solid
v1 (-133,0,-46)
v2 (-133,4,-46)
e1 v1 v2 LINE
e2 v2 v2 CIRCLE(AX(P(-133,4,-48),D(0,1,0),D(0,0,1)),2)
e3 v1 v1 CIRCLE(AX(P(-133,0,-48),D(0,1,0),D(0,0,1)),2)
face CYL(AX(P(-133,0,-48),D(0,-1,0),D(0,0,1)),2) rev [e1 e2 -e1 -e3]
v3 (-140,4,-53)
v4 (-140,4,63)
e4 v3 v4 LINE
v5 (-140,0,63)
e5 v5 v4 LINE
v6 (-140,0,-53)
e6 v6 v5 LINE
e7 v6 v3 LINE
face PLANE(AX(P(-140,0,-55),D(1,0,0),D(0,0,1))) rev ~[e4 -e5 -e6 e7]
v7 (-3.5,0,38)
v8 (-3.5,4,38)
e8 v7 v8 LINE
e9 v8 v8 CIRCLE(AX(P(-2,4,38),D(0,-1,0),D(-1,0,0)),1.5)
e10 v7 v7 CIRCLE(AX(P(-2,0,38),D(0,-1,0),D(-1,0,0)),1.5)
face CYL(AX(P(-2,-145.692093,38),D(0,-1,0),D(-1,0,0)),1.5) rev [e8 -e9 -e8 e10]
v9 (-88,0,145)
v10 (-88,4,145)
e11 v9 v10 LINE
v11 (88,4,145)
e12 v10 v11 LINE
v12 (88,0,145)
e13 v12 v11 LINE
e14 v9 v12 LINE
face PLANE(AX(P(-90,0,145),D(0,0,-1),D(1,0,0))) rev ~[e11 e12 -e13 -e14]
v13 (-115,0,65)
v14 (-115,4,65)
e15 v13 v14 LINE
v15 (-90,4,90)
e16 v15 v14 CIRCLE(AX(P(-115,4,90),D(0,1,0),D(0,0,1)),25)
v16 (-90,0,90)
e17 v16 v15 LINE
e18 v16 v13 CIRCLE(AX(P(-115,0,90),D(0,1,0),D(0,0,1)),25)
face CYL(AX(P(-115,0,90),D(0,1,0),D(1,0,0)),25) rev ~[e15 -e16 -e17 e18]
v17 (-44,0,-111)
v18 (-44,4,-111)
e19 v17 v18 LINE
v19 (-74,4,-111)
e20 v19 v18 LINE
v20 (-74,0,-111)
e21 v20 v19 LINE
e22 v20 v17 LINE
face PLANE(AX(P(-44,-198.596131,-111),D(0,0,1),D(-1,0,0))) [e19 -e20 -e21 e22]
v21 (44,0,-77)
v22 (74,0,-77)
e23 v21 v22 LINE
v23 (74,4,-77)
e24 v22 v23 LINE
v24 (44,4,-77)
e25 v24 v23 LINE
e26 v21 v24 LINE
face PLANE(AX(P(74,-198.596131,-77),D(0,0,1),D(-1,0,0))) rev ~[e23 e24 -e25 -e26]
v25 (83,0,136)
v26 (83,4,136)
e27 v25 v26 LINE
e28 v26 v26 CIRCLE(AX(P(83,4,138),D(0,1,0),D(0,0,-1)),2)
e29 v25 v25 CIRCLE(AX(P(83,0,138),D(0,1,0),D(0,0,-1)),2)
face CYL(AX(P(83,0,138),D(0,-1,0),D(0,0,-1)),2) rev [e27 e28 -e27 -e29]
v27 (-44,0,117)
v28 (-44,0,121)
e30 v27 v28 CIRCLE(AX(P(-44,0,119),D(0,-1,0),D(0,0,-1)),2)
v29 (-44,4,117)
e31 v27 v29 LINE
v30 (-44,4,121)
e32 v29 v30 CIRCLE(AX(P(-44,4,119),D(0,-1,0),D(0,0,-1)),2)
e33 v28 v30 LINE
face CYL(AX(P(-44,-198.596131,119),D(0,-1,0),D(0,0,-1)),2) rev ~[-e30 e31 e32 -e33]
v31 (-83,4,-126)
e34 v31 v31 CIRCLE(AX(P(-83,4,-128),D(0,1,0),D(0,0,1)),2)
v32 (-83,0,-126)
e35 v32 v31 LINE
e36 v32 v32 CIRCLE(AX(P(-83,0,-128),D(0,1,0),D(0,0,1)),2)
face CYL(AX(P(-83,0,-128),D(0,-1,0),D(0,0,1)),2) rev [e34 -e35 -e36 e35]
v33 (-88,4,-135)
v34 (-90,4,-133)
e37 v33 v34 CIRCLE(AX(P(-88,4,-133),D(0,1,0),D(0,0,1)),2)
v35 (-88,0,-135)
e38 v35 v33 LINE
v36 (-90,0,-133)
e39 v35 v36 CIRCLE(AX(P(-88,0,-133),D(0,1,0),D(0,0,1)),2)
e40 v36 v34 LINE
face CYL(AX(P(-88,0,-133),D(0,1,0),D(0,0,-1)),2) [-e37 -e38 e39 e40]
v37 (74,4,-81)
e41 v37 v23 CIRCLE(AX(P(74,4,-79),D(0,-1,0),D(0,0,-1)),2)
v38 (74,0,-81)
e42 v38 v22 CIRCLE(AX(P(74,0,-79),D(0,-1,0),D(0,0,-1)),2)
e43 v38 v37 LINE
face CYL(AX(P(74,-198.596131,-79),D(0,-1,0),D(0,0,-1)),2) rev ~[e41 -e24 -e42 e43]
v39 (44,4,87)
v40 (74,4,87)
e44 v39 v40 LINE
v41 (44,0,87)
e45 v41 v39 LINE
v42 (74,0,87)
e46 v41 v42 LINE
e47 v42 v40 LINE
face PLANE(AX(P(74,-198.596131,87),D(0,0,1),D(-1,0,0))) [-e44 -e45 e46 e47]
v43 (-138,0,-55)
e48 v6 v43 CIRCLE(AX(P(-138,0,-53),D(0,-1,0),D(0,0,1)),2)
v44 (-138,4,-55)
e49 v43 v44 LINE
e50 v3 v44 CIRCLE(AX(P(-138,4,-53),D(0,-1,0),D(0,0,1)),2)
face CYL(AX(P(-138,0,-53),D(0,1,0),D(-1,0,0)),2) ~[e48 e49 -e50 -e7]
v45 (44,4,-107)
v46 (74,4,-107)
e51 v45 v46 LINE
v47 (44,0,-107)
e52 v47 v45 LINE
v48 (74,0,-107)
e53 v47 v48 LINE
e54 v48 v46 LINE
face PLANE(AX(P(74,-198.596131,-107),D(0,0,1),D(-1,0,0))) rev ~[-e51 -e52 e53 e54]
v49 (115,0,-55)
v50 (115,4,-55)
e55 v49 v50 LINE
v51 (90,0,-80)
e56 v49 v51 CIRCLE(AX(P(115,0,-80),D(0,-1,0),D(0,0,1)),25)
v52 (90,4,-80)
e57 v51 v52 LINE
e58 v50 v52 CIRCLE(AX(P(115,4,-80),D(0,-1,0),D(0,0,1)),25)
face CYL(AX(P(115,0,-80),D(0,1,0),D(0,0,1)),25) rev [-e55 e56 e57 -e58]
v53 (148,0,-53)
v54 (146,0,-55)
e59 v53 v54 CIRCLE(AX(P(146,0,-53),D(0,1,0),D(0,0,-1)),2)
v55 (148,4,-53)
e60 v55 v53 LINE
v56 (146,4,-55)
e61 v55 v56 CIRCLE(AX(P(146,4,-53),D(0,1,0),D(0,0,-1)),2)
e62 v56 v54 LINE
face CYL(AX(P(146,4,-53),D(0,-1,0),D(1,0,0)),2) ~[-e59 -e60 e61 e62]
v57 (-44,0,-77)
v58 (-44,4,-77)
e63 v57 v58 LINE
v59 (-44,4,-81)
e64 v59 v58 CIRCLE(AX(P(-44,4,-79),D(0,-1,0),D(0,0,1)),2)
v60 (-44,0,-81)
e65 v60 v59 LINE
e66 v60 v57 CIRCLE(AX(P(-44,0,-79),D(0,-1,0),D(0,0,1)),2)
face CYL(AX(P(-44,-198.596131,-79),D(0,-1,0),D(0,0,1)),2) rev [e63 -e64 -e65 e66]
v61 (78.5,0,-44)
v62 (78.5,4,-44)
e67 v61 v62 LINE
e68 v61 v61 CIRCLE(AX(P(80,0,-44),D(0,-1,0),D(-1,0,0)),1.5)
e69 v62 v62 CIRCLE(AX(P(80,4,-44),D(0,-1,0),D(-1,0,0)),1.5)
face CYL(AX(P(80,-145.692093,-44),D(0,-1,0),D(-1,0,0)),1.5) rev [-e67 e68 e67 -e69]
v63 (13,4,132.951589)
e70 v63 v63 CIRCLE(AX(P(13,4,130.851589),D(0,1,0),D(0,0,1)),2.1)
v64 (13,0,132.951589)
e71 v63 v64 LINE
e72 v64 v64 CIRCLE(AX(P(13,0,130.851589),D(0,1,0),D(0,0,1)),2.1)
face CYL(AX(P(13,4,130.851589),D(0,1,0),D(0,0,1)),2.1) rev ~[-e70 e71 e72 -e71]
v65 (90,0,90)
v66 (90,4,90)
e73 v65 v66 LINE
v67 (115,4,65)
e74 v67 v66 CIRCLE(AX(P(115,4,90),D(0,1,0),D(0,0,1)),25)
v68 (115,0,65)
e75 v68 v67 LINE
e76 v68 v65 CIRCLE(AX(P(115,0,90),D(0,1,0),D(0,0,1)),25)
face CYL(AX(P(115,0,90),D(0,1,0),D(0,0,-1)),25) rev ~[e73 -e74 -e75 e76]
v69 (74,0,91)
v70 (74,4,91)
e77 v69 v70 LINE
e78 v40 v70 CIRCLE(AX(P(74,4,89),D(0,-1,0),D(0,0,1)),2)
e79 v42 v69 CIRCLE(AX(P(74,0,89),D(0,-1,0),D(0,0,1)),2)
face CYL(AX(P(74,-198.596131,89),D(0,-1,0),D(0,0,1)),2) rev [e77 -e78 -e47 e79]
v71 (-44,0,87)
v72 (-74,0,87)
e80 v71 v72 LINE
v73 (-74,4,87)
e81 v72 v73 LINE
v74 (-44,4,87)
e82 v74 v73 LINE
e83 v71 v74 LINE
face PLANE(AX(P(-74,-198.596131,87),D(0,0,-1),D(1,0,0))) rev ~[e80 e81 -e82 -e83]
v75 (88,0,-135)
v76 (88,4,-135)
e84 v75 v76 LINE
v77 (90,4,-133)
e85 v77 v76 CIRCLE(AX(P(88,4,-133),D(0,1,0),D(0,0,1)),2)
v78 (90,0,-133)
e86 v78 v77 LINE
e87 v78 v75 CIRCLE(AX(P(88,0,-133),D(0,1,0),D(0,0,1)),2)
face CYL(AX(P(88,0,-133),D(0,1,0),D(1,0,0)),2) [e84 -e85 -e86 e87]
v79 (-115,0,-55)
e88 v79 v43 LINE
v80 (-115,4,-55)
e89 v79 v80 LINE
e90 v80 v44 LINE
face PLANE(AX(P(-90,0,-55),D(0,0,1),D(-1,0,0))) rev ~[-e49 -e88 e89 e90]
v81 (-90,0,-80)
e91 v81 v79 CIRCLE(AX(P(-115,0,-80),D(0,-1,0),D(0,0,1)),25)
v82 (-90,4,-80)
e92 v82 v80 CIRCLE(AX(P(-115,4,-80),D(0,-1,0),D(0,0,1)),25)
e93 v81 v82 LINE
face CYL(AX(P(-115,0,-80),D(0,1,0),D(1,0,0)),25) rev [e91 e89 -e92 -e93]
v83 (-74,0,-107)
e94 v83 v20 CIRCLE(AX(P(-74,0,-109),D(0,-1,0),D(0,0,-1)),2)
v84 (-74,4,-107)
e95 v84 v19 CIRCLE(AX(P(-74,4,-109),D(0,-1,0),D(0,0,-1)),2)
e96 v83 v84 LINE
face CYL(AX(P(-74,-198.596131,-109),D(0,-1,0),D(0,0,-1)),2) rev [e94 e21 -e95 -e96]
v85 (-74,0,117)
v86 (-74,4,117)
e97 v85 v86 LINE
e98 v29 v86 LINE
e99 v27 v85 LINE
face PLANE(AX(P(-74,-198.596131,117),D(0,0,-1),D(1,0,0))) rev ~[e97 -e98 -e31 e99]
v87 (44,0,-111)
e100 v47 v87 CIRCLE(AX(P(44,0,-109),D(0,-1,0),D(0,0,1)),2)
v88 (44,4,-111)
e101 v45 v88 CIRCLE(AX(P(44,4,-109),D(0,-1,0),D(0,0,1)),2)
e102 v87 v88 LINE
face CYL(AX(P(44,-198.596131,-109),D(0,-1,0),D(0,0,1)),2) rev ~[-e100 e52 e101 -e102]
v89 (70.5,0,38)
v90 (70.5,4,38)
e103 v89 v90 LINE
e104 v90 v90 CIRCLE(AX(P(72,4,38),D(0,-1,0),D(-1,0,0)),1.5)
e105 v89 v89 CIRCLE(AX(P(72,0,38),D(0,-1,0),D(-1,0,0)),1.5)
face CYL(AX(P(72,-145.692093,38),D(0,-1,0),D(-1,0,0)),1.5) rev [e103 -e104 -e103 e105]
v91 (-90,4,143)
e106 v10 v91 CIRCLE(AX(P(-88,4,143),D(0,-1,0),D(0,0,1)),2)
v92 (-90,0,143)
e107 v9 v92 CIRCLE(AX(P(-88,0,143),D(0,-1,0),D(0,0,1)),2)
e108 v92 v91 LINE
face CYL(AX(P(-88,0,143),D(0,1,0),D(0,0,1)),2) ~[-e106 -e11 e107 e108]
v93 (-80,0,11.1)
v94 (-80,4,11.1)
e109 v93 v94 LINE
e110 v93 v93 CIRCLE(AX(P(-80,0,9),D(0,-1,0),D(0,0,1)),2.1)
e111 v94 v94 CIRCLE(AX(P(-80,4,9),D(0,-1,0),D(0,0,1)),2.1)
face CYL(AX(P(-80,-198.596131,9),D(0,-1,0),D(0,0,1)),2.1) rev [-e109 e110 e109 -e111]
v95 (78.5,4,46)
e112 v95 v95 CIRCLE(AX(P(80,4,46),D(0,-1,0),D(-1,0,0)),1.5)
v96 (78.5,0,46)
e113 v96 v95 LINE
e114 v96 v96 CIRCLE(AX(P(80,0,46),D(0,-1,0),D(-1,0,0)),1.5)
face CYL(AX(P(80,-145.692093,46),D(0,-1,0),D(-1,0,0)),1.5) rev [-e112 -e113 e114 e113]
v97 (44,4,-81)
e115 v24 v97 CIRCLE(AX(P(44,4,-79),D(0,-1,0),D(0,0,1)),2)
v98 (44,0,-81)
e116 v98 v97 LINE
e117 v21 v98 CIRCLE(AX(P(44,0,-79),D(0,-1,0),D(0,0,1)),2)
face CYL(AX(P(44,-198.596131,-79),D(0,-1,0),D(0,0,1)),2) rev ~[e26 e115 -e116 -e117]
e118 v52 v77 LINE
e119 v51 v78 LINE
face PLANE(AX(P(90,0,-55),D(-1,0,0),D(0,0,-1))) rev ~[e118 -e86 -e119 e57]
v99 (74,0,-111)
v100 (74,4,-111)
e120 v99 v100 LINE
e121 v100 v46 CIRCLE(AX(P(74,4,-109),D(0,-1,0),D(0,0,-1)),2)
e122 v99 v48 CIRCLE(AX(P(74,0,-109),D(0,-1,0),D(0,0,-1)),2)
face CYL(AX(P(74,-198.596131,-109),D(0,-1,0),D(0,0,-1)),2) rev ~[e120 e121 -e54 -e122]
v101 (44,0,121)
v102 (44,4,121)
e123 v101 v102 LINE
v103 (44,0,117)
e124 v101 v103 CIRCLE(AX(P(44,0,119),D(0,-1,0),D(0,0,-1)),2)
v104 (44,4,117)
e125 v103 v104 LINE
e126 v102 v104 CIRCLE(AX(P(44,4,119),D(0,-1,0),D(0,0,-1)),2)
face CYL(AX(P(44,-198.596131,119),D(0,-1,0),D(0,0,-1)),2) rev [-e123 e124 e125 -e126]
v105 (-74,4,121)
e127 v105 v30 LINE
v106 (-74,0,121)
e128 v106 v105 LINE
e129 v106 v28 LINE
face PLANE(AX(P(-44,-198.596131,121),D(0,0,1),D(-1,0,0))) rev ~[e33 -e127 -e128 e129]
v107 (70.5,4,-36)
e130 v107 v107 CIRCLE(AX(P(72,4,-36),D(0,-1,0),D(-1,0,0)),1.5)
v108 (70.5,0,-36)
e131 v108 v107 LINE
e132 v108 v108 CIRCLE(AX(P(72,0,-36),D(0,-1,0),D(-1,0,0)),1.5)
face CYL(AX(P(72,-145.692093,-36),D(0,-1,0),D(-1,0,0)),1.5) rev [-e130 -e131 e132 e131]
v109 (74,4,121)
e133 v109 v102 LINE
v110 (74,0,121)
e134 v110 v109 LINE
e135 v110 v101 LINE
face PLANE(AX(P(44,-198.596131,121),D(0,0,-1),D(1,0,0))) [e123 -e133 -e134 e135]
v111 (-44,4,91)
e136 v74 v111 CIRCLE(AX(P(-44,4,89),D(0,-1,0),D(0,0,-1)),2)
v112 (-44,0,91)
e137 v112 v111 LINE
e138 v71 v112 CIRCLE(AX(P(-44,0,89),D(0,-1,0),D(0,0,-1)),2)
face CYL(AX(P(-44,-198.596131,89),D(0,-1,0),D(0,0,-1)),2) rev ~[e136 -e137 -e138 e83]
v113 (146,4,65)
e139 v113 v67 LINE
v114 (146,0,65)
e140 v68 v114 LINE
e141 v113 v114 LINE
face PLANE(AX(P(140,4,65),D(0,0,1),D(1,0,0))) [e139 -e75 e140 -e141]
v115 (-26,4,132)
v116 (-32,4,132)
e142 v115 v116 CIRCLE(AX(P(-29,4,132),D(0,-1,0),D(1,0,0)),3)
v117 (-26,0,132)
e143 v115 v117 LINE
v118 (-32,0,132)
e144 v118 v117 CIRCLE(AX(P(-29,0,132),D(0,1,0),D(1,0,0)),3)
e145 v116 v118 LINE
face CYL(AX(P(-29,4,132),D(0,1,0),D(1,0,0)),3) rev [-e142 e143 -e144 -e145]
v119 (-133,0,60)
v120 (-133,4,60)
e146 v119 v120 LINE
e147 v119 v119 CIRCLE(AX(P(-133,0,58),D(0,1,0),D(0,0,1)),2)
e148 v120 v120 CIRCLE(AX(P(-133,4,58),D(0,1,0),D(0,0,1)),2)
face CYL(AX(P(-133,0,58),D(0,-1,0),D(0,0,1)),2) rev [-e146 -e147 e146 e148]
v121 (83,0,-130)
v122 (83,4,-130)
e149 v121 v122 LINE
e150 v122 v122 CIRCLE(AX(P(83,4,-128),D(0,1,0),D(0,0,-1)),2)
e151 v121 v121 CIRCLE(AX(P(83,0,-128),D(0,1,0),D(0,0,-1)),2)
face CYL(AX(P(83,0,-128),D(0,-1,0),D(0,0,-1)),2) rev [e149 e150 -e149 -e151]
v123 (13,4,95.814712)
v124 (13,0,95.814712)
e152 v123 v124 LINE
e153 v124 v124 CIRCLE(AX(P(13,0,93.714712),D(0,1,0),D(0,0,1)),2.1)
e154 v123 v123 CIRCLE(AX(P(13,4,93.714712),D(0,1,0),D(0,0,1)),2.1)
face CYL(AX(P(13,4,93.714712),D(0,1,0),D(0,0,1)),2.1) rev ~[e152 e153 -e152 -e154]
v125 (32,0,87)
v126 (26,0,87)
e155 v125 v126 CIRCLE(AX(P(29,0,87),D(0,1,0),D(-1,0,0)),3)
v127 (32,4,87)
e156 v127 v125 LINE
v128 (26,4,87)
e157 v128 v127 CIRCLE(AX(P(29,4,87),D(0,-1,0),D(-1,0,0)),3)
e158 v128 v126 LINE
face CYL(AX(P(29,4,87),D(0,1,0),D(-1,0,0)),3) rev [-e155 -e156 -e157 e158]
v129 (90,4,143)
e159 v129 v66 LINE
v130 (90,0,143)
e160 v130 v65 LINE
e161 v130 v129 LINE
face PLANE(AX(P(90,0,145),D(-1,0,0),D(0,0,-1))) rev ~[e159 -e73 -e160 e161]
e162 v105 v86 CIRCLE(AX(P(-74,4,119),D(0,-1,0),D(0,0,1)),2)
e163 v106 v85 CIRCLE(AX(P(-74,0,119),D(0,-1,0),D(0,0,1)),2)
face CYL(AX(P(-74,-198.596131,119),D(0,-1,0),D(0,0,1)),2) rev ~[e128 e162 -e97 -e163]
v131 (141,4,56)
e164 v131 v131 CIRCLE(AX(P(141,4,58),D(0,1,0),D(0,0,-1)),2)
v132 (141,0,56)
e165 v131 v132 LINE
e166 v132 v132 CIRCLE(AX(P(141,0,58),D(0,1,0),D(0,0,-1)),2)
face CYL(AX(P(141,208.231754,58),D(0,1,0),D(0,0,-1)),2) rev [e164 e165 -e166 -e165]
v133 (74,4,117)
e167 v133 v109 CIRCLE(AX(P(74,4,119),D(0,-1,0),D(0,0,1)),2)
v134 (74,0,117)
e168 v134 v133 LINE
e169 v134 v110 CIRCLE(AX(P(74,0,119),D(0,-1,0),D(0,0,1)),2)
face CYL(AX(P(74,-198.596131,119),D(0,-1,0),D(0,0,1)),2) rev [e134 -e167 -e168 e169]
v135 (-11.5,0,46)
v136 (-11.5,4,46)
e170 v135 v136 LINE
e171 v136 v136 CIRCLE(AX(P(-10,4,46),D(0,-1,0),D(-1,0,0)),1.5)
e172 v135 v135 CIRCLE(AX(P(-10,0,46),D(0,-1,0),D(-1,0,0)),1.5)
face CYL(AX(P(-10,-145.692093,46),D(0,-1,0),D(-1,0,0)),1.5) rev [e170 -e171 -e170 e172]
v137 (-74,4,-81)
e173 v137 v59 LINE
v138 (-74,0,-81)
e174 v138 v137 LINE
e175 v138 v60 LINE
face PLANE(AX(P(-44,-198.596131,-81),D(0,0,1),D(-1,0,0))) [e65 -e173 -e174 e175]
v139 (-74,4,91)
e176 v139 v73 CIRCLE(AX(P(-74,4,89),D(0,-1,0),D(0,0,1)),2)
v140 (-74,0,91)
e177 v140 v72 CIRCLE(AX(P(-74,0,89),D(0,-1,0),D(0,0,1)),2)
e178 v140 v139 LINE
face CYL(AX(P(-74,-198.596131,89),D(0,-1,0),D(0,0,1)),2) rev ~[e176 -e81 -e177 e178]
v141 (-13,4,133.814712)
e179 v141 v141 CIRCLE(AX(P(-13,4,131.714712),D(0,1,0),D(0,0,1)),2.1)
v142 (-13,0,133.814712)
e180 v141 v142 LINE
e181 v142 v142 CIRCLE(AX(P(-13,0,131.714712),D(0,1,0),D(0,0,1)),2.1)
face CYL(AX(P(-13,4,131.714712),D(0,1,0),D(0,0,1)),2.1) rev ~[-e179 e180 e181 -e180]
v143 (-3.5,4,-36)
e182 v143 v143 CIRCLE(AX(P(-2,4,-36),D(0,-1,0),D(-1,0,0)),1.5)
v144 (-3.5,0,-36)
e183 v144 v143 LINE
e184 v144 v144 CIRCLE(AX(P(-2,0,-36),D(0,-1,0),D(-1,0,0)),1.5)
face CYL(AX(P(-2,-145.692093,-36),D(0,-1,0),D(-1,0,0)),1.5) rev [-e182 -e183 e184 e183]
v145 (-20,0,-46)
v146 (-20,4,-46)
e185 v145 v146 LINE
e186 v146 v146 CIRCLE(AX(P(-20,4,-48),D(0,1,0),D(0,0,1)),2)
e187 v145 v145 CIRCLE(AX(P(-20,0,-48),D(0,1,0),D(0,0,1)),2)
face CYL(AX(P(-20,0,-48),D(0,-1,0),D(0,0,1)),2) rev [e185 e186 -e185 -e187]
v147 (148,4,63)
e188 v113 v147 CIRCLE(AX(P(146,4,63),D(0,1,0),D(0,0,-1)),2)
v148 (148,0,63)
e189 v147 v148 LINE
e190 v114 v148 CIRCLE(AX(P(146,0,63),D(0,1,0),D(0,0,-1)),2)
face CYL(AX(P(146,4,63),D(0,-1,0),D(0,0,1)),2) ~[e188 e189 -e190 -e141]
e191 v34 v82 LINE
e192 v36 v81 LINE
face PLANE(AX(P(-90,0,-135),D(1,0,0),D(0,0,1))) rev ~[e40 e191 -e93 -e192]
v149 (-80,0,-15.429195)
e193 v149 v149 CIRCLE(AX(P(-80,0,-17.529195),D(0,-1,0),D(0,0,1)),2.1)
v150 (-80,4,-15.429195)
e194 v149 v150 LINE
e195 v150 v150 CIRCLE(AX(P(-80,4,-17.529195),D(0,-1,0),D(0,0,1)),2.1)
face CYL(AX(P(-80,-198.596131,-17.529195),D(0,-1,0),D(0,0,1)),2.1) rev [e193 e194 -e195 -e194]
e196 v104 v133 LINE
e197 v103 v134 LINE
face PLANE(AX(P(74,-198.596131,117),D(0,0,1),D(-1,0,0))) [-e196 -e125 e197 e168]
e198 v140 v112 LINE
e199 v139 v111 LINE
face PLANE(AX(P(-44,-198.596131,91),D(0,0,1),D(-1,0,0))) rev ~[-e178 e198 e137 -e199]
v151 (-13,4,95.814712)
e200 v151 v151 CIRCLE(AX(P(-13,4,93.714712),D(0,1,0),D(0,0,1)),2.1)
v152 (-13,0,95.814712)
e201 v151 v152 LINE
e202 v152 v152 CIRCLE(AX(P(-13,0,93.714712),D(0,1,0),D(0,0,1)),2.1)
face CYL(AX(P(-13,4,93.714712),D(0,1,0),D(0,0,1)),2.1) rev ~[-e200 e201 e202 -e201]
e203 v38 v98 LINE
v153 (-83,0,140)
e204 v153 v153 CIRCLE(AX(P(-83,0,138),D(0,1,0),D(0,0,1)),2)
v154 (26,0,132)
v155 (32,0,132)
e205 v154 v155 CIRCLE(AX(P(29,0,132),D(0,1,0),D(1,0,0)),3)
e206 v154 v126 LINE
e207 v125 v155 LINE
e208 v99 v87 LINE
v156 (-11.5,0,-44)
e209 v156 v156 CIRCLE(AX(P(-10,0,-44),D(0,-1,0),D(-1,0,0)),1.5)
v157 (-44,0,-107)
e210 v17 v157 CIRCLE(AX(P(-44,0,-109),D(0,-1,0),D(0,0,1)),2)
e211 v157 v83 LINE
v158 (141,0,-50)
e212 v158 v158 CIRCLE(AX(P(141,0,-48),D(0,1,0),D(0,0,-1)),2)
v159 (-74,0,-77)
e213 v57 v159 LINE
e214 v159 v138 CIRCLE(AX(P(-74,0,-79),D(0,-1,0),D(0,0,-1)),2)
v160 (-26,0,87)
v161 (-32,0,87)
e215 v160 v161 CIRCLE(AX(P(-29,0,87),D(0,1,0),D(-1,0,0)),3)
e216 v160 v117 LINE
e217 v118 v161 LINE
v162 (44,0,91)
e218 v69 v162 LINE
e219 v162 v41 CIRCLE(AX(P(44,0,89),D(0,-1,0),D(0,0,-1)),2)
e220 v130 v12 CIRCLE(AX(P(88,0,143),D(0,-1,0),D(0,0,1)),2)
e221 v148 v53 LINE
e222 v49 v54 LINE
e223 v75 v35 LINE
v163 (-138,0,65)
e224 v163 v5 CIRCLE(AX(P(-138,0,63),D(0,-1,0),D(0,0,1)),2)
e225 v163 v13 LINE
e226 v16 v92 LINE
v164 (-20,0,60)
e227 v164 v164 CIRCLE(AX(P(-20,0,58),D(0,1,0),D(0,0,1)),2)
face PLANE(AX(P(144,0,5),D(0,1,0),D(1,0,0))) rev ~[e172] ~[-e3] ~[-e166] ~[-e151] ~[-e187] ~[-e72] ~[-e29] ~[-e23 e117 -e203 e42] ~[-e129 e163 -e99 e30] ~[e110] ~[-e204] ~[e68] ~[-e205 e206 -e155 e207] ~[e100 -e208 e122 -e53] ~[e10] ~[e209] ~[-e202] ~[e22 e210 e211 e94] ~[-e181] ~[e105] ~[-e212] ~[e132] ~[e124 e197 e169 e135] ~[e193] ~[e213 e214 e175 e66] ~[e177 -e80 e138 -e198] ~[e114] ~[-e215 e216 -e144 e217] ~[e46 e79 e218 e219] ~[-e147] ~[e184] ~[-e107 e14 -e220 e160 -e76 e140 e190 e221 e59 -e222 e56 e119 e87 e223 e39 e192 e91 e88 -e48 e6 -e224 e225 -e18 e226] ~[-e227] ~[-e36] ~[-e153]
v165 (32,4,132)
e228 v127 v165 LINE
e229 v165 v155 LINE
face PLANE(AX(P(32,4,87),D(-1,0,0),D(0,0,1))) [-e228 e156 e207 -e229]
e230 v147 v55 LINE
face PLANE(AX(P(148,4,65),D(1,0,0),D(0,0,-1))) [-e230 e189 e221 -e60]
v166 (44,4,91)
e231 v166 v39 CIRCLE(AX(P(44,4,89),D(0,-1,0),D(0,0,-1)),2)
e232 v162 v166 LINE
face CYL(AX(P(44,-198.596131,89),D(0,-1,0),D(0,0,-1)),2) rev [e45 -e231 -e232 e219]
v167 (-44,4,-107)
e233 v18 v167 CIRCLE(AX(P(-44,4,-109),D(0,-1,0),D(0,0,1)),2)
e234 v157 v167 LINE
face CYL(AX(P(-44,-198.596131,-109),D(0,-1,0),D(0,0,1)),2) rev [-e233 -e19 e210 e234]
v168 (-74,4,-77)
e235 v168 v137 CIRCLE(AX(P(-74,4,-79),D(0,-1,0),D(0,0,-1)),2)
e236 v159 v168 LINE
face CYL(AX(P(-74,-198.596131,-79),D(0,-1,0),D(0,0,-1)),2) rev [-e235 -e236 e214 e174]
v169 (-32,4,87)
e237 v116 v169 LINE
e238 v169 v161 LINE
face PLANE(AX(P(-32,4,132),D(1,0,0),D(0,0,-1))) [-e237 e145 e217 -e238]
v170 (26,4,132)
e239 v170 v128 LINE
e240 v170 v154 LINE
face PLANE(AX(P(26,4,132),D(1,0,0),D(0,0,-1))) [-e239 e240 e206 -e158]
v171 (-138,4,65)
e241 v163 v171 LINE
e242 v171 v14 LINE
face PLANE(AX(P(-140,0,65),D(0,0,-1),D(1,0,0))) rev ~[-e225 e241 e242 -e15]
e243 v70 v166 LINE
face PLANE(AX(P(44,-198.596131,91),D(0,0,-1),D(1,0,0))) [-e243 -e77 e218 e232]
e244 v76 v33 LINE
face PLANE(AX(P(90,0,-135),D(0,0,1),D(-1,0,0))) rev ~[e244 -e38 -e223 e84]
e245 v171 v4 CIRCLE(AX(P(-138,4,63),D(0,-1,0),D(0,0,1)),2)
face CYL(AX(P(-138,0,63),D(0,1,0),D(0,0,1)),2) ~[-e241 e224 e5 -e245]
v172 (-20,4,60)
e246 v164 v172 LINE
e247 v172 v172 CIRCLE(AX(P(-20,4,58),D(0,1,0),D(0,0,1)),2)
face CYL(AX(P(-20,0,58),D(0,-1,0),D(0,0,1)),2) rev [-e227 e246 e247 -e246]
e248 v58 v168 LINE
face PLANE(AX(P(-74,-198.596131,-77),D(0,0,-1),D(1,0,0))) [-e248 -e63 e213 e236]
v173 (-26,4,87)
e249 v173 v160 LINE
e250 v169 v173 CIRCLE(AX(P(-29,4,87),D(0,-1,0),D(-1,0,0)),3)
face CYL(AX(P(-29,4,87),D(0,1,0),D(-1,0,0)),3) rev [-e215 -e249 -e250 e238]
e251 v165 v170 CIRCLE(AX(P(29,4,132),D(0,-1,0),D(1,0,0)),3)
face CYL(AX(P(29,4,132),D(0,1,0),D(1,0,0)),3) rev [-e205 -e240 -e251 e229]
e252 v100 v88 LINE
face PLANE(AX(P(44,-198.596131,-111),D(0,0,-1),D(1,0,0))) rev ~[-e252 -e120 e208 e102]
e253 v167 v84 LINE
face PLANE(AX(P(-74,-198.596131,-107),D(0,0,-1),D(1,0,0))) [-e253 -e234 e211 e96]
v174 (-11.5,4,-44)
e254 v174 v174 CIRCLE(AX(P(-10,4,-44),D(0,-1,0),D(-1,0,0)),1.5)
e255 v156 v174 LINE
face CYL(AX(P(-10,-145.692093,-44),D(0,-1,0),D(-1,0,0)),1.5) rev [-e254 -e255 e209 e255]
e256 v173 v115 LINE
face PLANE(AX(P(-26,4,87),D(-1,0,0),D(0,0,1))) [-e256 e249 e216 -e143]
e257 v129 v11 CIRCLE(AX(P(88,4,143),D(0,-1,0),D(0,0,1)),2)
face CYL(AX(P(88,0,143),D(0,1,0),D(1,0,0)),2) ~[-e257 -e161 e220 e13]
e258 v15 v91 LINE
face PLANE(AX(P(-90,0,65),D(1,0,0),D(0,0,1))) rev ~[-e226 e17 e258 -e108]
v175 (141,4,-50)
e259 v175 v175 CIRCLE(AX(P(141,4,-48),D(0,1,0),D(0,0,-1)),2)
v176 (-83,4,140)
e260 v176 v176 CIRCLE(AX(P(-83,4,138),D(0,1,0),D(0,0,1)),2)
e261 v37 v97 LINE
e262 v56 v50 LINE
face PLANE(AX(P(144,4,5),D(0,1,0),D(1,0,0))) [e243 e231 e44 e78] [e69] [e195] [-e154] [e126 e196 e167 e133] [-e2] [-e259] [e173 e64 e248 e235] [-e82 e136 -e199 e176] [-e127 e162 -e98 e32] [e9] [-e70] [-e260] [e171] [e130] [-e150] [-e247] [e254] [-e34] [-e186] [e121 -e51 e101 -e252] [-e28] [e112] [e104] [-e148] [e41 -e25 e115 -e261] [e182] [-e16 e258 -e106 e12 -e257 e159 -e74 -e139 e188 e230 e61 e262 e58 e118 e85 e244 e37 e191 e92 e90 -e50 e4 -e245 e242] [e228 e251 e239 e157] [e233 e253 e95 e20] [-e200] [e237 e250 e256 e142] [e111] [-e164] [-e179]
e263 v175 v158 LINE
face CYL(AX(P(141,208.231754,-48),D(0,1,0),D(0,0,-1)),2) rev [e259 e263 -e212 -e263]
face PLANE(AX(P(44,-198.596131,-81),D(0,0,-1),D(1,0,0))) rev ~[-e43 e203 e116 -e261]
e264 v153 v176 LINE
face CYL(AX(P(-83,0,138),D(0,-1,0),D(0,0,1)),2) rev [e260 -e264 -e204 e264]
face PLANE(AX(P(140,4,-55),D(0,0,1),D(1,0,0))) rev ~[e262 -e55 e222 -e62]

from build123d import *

# Parameters (mm, degrees)
SKETCH_1_R               = 2
EXTRUDE_1_DEPTH          = 4
CUT_EXTRUDE_1_DEPTH      = 202.596130915
CUT_EXTRUDE_1_DEPTH_BACK = 202.596130915
CUT_EXTRUDE_2_DEPTH      = 202.596130915
CUT_EXTRUDE_2_DEPTH_BACK = 202.596130915
SKETCH_3_R               = 2.1
SKETCH_4_W               = 8
SKETCH_4_H               = 120
EXTRUDE_2_DEPTH          = 4
CUT_EXTRUDE_4_DEPTH      = 208.231754324
CUT_EXTRUDE_4_DEPTH_BACK = 208.231754324
SKETCH_6_R               = 2
CUT_EXTRUDE_5_DEPTH      = 208.231754324
CUT_EXTRUDE_6_DEPTH      = 221.692093198
CUT_EXTRUDE_6_DEPTH_BACK = 221.692093198
SKETCH_9_R               = 1.5
FILLET_1_R               = 2
FILLET_2_R               = 25
SKETCH_11_R              = 2.1
CUT_EXTRUDE_7_DEPTH      = 10


with BuildPart() as part:
    # 草图1 → 凸台-拉伸1 (new body)
    with BuildSketch(Plane(origin=(0, 0, 0), x_dir=(1, 0, 0), z_dir=(0, 1, 0))):
        Polygon((-90, -145), (90, -145), (90, -65), (140, -65), (140, 55), (90, 55), (90, 135), (-90, 135), (-90, 55), (-140, 55), (-140, -65), (-90, -65), align=None)
        with Locations(Location((-83, -138, 0), (0, 0, 270))):
            Circle(SKETCH_1_R, mode=Mode.SUBTRACT)
        with Locations(Location((-83, 128, 0), (0, 0, 270))):
            Circle(SKETCH_1_R, mode=Mode.SUBTRACT)
        with Locations(Location((83, -138, 0), (0, 0, 90))):
            Circle(SKETCH_1_R, mode=Mode.SUBTRACT)
        with Locations(Location((83, 128, 0), (0, 0, 90))):
            Circle(SKETCH_1_R, mode=Mode.SUBTRACT)
        with Locations(Location((-133, 48, 0), (0, 0, 270))):
            Circle(SKETCH_1_R, mode=Mode.SUBTRACT)
        with Locations(Location((-133, -58, 0), (0, 0, 270))):
            Circle(SKETCH_1_R, mode=Mode.SUBTRACT)
        with Locations(Location((-20, 48, 0), (0, 0, 270))):
            Circle(SKETCH_1_R, mode=Mode.SUBTRACT)
        with Locations(Location((-20, -58, 0), (0, 0, 270))):
            Circle(SKETCH_1_R, mode=Mode.SUBTRACT)
    extrude(amount=EXTRUDE_1_DEPTH)

    # 草图2 → 切除-拉伸1 (cut, two sides: drawn at the far end of the back side and taken through both)
    with BuildSketch(Plane(origin=(0, 4, 0), x_dir=(1, 0, 0), z_dir=(0, 1, 0)).offset(-CUT_EXTRUDE_1_DEPTH_BACK)):
        with BuildLine():
            Line((-74, -117), (-44, -117))
            ThreePointArc((-44, -117), (-42, -119), (-44, -121))
            Line((-44, -121), (-74, -121))
            ThreePointArc((-74, -121), (-76, -119), (-74, -117))
        make_face()
        with BuildLine():
            Line((-74, -87), (-44, -87))
            ThreePointArc((-44, -87), (-42, -89), (-44, -91))
            Line((-44, -91), (-74, -91))
            ThreePointArc((-74, -91), (-76, -89), (-74, -87))
        make_face()
        with BuildLine():
            Line((74, -87), (44, -87))
            ThreePointArc((44, -87), (42, -89), (44, -91))
            Line((44, -91), (74, -91))
            ThreePointArc((74, -91), (76, -89), (74, -87))
        make_face()
        with BuildLine():
            Line((74, -117), (44, -117))
            ThreePointArc((44, -117), (42, -119), (44, -121))
            Line((44, -121), (74, -121))
            ThreePointArc((74, -121), (76, -119), (74, -117))
        make_face()
        with BuildLine():
            Line((74, 107), (44, 107))
            ThreePointArc((44, 107), (42, 109), (44, 111))
            Line((44, 111), (74, 111))
            ThreePointArc((74, 111), (76, 109), (74, 107))
        make_face()
        with BuildLine():
            Line((74, 77), (44, 77))
            ThreePointArc((44, 77), (42, 79), (44, 81))
            Line((44, 81), (74, 81))
            ThreePointArc((74, 81), (76, 79), (74, 77))
        make_face()
        with BuildLine():
            Line((-74, 77), (-44, 77))
            ThreePointArc((-44, 77), (-42, 79), (-44, 81))
            Line((-44, 81), (-74, 81))
            ThreePointArc((-74, 81), (-76, 79), (-74, 77))
        make_face()
        with BuildLine():
            Line((-74, 107), (-44, 107))
            ThreePointArc((-44, 107), (-42, 109), (-44, 111))
            Line((-44, 111), (-74, 111))
            ThreePointArc((-74, 111), (-76, 109), (-74, 107))
        make_face()
    extrude(amount=CUT_EXTRUDE_1_DEPTH + CUT_EXTRUDE_1_DEPTH_BACK, mode=Mode.SUBTRACT)

    # 草图3 → 切除-拉伸2 (cut, two sides: drawn at the far end of the back side and taken through both)
    with BuildSketch(Plane(origin=(0, 4, 0), x_dir=(1, 0, 0), z_dir=(0, 1, 0)).offset(-CUT_EXTRUDE_2_DEPTH_BACK)):
        with Locations(Location((-80, 17.529194913, 0), (0, 0, 270))):
            Circle(SKETCH_3_R)
        with Locations(Location((-80, -9, 0), (0, 0, 270))):
            Circle(SKETCH_3_R)
    extrude(amount=CUT_EXTRUDE_2_DEPTH + CUT_EXTRUDE_2_DEPTH_BACK, mode=Mode.SUBTRACT)

    # 草图4 → 凸台-拉伸2 (add)
    with BuildSketch(Plane(origin=(0, 4, 0), x_dir=(1, 0, 0), z_dir=(0, 1, 0))):
        with Locations((144, -5)):
            Rectangle(SKETCH_4_W, SKETCH_4_H)
    extrude(amount=-EXTRUDE_2_DEPTH)

    # 草图6 → 切除-拉伸4 (cut, two sides: drawn at the far end of the back side and taken through both)
    with BuildSketch(Plane.XZ.offset(-CUT_EXTRUDE_4_DEPTH_BACK)):
        with Locations(Location((141, 58, 0), (0, 0, 270))):
            Circle(SKETCH_6_R)
        with Locations(Location((141, -48, 0), (0, 0, 270))):
            Circle(SKETCH_6_R)
    extrude(amount=CUT_EXTRUDE_4_DEPTH + CUT_EXTRUDE_4_DEPTH_BACK, mode=Mode.SUBTRACT)

    # 草图7 → 切除-拉伸5 (cut, through all)
    with BuildSketch(Plane(origin=(0, 4, 0), x_dir=(1, 0, 0), z_dir=(0, 1, 0))):
        with BuildLine():
            Line((-26, -87), (-26, -132))
            ThreePointArc((-26, -132), (-29, -135), (-32, -132))
            Line((-32, -132), (-32, -87))
            ThreePointArc((-32, -87), (-29, -84), (-26, -87))
        make_face()
        with BuildLine():
            Line((32, -87), (32, -132))
            ThreePointArc((32, -132), (29, -135), (26, -132))
            Line((26, -132), (26, -87))
            ThreePointArc((26, -87), (29, -84), (32, -87))
        make_face()
    extrude(amount=-CUT_EXTRUDE_5_DEPTH, mode=Mode.SUBTRACT)

    # 草图9 → 切除-拉伸6 (cut, two sides: drawn at the far end of the back side and taken through both)
    with BuildSketch(Plane(origin=(0, 76, 0), x_dir=(1, 0, 0), z_dir=(0, 1, 0)).offset(-CUT_EXTRUDE_6_DEPTH_BACK)):
        with Locations(Location((72, -38, 0), (0, 0, 180))):
            Circle(SKETCH_9_R)
        with Locations(Location((-2, -38, 0), (0, 0, 180))):
            Circle(SKETCH_9_R)
        with Locations(Location((72, 36, 0), (0, 0, 180))):
            Circle(SKETCH_9_R)
        with Locations(Location((-2, 36, 0), (0, 0, 180))):
            Circle(SKETCH_9_R)
        with Locations(Location((80, -46, 0), (0, 0, 180))):
            Circle(SKETCH_9_R)
        with Locations(Location((-10, -46, 0), (0, 0, 180))):
            Circle(SKETCH_9_R)
        with Locations(Location((-10, 44, 0), (0, 0, 180))):
            Circle(SKETCH_9_R)
        with Locations(Location((80, 44, 0), (0, 0, 180))):
            Circle(SKETCH_9_R)
    extrude(amount=CUT_EXTRUDE_6_DEPTH + CUT_EXTRUDE_6_DEPTH_BACK, mode=Mode.SUBTRACT)

    # 圆角1
    fillet_1_edges = [part.edges().sort_by_distance(p)[0] for p in [
        (148, 2, -55),
        (148, 2, 65),
        (90, 2, 145),
        (-90, 2, 145),
        (-140, 2, 65),
        (-140, 2, -55),
        (-90, 2, -135),
        (90, 2, -135),
    ]]
    fillet(fillet_1_edges, radius=FILLET_1_R)

    # 圆角2
    fillet_2_edges = [part.edges().sort_by_distance(p)[0] for p in [
        (90, 2, -55),
        (90, 2, 65),
        (-90, 2, 65),
        (-90, 2, -55),
    ]]
    fillet(fillet_2_edges, radius=FILLET_2_R)

    # 草图11 → 切除-拉伸7 (cut)
    with BuildSketch(Plane(origin=(0, 4, 0), x_dir=(1, 0, 0), z_dir=(0, 1, 0))):
        with Locations(Location((-13, -131.714712401, 0), (0, 0, 270))):
            Circle(SKETCH_11_R)
        with Locations(Location((13, -130.851588753, 0), (0, 0, 270))):
            Circle(SKETCH_11_R)
        with Locations(Location((13, -93.714712401, 0), (0, 0, 270))):
            Circle(SKETCH_11_R)
        with Locations(Location((-13, -93.714712401, 0), (0, 0, 270))):
            Circle(SKETCH_11_R)
    extrude(amount=-CUT_EXTRUDE_7_DEPTH, mode=Mode.SUBTRACT)


solid = part.part
